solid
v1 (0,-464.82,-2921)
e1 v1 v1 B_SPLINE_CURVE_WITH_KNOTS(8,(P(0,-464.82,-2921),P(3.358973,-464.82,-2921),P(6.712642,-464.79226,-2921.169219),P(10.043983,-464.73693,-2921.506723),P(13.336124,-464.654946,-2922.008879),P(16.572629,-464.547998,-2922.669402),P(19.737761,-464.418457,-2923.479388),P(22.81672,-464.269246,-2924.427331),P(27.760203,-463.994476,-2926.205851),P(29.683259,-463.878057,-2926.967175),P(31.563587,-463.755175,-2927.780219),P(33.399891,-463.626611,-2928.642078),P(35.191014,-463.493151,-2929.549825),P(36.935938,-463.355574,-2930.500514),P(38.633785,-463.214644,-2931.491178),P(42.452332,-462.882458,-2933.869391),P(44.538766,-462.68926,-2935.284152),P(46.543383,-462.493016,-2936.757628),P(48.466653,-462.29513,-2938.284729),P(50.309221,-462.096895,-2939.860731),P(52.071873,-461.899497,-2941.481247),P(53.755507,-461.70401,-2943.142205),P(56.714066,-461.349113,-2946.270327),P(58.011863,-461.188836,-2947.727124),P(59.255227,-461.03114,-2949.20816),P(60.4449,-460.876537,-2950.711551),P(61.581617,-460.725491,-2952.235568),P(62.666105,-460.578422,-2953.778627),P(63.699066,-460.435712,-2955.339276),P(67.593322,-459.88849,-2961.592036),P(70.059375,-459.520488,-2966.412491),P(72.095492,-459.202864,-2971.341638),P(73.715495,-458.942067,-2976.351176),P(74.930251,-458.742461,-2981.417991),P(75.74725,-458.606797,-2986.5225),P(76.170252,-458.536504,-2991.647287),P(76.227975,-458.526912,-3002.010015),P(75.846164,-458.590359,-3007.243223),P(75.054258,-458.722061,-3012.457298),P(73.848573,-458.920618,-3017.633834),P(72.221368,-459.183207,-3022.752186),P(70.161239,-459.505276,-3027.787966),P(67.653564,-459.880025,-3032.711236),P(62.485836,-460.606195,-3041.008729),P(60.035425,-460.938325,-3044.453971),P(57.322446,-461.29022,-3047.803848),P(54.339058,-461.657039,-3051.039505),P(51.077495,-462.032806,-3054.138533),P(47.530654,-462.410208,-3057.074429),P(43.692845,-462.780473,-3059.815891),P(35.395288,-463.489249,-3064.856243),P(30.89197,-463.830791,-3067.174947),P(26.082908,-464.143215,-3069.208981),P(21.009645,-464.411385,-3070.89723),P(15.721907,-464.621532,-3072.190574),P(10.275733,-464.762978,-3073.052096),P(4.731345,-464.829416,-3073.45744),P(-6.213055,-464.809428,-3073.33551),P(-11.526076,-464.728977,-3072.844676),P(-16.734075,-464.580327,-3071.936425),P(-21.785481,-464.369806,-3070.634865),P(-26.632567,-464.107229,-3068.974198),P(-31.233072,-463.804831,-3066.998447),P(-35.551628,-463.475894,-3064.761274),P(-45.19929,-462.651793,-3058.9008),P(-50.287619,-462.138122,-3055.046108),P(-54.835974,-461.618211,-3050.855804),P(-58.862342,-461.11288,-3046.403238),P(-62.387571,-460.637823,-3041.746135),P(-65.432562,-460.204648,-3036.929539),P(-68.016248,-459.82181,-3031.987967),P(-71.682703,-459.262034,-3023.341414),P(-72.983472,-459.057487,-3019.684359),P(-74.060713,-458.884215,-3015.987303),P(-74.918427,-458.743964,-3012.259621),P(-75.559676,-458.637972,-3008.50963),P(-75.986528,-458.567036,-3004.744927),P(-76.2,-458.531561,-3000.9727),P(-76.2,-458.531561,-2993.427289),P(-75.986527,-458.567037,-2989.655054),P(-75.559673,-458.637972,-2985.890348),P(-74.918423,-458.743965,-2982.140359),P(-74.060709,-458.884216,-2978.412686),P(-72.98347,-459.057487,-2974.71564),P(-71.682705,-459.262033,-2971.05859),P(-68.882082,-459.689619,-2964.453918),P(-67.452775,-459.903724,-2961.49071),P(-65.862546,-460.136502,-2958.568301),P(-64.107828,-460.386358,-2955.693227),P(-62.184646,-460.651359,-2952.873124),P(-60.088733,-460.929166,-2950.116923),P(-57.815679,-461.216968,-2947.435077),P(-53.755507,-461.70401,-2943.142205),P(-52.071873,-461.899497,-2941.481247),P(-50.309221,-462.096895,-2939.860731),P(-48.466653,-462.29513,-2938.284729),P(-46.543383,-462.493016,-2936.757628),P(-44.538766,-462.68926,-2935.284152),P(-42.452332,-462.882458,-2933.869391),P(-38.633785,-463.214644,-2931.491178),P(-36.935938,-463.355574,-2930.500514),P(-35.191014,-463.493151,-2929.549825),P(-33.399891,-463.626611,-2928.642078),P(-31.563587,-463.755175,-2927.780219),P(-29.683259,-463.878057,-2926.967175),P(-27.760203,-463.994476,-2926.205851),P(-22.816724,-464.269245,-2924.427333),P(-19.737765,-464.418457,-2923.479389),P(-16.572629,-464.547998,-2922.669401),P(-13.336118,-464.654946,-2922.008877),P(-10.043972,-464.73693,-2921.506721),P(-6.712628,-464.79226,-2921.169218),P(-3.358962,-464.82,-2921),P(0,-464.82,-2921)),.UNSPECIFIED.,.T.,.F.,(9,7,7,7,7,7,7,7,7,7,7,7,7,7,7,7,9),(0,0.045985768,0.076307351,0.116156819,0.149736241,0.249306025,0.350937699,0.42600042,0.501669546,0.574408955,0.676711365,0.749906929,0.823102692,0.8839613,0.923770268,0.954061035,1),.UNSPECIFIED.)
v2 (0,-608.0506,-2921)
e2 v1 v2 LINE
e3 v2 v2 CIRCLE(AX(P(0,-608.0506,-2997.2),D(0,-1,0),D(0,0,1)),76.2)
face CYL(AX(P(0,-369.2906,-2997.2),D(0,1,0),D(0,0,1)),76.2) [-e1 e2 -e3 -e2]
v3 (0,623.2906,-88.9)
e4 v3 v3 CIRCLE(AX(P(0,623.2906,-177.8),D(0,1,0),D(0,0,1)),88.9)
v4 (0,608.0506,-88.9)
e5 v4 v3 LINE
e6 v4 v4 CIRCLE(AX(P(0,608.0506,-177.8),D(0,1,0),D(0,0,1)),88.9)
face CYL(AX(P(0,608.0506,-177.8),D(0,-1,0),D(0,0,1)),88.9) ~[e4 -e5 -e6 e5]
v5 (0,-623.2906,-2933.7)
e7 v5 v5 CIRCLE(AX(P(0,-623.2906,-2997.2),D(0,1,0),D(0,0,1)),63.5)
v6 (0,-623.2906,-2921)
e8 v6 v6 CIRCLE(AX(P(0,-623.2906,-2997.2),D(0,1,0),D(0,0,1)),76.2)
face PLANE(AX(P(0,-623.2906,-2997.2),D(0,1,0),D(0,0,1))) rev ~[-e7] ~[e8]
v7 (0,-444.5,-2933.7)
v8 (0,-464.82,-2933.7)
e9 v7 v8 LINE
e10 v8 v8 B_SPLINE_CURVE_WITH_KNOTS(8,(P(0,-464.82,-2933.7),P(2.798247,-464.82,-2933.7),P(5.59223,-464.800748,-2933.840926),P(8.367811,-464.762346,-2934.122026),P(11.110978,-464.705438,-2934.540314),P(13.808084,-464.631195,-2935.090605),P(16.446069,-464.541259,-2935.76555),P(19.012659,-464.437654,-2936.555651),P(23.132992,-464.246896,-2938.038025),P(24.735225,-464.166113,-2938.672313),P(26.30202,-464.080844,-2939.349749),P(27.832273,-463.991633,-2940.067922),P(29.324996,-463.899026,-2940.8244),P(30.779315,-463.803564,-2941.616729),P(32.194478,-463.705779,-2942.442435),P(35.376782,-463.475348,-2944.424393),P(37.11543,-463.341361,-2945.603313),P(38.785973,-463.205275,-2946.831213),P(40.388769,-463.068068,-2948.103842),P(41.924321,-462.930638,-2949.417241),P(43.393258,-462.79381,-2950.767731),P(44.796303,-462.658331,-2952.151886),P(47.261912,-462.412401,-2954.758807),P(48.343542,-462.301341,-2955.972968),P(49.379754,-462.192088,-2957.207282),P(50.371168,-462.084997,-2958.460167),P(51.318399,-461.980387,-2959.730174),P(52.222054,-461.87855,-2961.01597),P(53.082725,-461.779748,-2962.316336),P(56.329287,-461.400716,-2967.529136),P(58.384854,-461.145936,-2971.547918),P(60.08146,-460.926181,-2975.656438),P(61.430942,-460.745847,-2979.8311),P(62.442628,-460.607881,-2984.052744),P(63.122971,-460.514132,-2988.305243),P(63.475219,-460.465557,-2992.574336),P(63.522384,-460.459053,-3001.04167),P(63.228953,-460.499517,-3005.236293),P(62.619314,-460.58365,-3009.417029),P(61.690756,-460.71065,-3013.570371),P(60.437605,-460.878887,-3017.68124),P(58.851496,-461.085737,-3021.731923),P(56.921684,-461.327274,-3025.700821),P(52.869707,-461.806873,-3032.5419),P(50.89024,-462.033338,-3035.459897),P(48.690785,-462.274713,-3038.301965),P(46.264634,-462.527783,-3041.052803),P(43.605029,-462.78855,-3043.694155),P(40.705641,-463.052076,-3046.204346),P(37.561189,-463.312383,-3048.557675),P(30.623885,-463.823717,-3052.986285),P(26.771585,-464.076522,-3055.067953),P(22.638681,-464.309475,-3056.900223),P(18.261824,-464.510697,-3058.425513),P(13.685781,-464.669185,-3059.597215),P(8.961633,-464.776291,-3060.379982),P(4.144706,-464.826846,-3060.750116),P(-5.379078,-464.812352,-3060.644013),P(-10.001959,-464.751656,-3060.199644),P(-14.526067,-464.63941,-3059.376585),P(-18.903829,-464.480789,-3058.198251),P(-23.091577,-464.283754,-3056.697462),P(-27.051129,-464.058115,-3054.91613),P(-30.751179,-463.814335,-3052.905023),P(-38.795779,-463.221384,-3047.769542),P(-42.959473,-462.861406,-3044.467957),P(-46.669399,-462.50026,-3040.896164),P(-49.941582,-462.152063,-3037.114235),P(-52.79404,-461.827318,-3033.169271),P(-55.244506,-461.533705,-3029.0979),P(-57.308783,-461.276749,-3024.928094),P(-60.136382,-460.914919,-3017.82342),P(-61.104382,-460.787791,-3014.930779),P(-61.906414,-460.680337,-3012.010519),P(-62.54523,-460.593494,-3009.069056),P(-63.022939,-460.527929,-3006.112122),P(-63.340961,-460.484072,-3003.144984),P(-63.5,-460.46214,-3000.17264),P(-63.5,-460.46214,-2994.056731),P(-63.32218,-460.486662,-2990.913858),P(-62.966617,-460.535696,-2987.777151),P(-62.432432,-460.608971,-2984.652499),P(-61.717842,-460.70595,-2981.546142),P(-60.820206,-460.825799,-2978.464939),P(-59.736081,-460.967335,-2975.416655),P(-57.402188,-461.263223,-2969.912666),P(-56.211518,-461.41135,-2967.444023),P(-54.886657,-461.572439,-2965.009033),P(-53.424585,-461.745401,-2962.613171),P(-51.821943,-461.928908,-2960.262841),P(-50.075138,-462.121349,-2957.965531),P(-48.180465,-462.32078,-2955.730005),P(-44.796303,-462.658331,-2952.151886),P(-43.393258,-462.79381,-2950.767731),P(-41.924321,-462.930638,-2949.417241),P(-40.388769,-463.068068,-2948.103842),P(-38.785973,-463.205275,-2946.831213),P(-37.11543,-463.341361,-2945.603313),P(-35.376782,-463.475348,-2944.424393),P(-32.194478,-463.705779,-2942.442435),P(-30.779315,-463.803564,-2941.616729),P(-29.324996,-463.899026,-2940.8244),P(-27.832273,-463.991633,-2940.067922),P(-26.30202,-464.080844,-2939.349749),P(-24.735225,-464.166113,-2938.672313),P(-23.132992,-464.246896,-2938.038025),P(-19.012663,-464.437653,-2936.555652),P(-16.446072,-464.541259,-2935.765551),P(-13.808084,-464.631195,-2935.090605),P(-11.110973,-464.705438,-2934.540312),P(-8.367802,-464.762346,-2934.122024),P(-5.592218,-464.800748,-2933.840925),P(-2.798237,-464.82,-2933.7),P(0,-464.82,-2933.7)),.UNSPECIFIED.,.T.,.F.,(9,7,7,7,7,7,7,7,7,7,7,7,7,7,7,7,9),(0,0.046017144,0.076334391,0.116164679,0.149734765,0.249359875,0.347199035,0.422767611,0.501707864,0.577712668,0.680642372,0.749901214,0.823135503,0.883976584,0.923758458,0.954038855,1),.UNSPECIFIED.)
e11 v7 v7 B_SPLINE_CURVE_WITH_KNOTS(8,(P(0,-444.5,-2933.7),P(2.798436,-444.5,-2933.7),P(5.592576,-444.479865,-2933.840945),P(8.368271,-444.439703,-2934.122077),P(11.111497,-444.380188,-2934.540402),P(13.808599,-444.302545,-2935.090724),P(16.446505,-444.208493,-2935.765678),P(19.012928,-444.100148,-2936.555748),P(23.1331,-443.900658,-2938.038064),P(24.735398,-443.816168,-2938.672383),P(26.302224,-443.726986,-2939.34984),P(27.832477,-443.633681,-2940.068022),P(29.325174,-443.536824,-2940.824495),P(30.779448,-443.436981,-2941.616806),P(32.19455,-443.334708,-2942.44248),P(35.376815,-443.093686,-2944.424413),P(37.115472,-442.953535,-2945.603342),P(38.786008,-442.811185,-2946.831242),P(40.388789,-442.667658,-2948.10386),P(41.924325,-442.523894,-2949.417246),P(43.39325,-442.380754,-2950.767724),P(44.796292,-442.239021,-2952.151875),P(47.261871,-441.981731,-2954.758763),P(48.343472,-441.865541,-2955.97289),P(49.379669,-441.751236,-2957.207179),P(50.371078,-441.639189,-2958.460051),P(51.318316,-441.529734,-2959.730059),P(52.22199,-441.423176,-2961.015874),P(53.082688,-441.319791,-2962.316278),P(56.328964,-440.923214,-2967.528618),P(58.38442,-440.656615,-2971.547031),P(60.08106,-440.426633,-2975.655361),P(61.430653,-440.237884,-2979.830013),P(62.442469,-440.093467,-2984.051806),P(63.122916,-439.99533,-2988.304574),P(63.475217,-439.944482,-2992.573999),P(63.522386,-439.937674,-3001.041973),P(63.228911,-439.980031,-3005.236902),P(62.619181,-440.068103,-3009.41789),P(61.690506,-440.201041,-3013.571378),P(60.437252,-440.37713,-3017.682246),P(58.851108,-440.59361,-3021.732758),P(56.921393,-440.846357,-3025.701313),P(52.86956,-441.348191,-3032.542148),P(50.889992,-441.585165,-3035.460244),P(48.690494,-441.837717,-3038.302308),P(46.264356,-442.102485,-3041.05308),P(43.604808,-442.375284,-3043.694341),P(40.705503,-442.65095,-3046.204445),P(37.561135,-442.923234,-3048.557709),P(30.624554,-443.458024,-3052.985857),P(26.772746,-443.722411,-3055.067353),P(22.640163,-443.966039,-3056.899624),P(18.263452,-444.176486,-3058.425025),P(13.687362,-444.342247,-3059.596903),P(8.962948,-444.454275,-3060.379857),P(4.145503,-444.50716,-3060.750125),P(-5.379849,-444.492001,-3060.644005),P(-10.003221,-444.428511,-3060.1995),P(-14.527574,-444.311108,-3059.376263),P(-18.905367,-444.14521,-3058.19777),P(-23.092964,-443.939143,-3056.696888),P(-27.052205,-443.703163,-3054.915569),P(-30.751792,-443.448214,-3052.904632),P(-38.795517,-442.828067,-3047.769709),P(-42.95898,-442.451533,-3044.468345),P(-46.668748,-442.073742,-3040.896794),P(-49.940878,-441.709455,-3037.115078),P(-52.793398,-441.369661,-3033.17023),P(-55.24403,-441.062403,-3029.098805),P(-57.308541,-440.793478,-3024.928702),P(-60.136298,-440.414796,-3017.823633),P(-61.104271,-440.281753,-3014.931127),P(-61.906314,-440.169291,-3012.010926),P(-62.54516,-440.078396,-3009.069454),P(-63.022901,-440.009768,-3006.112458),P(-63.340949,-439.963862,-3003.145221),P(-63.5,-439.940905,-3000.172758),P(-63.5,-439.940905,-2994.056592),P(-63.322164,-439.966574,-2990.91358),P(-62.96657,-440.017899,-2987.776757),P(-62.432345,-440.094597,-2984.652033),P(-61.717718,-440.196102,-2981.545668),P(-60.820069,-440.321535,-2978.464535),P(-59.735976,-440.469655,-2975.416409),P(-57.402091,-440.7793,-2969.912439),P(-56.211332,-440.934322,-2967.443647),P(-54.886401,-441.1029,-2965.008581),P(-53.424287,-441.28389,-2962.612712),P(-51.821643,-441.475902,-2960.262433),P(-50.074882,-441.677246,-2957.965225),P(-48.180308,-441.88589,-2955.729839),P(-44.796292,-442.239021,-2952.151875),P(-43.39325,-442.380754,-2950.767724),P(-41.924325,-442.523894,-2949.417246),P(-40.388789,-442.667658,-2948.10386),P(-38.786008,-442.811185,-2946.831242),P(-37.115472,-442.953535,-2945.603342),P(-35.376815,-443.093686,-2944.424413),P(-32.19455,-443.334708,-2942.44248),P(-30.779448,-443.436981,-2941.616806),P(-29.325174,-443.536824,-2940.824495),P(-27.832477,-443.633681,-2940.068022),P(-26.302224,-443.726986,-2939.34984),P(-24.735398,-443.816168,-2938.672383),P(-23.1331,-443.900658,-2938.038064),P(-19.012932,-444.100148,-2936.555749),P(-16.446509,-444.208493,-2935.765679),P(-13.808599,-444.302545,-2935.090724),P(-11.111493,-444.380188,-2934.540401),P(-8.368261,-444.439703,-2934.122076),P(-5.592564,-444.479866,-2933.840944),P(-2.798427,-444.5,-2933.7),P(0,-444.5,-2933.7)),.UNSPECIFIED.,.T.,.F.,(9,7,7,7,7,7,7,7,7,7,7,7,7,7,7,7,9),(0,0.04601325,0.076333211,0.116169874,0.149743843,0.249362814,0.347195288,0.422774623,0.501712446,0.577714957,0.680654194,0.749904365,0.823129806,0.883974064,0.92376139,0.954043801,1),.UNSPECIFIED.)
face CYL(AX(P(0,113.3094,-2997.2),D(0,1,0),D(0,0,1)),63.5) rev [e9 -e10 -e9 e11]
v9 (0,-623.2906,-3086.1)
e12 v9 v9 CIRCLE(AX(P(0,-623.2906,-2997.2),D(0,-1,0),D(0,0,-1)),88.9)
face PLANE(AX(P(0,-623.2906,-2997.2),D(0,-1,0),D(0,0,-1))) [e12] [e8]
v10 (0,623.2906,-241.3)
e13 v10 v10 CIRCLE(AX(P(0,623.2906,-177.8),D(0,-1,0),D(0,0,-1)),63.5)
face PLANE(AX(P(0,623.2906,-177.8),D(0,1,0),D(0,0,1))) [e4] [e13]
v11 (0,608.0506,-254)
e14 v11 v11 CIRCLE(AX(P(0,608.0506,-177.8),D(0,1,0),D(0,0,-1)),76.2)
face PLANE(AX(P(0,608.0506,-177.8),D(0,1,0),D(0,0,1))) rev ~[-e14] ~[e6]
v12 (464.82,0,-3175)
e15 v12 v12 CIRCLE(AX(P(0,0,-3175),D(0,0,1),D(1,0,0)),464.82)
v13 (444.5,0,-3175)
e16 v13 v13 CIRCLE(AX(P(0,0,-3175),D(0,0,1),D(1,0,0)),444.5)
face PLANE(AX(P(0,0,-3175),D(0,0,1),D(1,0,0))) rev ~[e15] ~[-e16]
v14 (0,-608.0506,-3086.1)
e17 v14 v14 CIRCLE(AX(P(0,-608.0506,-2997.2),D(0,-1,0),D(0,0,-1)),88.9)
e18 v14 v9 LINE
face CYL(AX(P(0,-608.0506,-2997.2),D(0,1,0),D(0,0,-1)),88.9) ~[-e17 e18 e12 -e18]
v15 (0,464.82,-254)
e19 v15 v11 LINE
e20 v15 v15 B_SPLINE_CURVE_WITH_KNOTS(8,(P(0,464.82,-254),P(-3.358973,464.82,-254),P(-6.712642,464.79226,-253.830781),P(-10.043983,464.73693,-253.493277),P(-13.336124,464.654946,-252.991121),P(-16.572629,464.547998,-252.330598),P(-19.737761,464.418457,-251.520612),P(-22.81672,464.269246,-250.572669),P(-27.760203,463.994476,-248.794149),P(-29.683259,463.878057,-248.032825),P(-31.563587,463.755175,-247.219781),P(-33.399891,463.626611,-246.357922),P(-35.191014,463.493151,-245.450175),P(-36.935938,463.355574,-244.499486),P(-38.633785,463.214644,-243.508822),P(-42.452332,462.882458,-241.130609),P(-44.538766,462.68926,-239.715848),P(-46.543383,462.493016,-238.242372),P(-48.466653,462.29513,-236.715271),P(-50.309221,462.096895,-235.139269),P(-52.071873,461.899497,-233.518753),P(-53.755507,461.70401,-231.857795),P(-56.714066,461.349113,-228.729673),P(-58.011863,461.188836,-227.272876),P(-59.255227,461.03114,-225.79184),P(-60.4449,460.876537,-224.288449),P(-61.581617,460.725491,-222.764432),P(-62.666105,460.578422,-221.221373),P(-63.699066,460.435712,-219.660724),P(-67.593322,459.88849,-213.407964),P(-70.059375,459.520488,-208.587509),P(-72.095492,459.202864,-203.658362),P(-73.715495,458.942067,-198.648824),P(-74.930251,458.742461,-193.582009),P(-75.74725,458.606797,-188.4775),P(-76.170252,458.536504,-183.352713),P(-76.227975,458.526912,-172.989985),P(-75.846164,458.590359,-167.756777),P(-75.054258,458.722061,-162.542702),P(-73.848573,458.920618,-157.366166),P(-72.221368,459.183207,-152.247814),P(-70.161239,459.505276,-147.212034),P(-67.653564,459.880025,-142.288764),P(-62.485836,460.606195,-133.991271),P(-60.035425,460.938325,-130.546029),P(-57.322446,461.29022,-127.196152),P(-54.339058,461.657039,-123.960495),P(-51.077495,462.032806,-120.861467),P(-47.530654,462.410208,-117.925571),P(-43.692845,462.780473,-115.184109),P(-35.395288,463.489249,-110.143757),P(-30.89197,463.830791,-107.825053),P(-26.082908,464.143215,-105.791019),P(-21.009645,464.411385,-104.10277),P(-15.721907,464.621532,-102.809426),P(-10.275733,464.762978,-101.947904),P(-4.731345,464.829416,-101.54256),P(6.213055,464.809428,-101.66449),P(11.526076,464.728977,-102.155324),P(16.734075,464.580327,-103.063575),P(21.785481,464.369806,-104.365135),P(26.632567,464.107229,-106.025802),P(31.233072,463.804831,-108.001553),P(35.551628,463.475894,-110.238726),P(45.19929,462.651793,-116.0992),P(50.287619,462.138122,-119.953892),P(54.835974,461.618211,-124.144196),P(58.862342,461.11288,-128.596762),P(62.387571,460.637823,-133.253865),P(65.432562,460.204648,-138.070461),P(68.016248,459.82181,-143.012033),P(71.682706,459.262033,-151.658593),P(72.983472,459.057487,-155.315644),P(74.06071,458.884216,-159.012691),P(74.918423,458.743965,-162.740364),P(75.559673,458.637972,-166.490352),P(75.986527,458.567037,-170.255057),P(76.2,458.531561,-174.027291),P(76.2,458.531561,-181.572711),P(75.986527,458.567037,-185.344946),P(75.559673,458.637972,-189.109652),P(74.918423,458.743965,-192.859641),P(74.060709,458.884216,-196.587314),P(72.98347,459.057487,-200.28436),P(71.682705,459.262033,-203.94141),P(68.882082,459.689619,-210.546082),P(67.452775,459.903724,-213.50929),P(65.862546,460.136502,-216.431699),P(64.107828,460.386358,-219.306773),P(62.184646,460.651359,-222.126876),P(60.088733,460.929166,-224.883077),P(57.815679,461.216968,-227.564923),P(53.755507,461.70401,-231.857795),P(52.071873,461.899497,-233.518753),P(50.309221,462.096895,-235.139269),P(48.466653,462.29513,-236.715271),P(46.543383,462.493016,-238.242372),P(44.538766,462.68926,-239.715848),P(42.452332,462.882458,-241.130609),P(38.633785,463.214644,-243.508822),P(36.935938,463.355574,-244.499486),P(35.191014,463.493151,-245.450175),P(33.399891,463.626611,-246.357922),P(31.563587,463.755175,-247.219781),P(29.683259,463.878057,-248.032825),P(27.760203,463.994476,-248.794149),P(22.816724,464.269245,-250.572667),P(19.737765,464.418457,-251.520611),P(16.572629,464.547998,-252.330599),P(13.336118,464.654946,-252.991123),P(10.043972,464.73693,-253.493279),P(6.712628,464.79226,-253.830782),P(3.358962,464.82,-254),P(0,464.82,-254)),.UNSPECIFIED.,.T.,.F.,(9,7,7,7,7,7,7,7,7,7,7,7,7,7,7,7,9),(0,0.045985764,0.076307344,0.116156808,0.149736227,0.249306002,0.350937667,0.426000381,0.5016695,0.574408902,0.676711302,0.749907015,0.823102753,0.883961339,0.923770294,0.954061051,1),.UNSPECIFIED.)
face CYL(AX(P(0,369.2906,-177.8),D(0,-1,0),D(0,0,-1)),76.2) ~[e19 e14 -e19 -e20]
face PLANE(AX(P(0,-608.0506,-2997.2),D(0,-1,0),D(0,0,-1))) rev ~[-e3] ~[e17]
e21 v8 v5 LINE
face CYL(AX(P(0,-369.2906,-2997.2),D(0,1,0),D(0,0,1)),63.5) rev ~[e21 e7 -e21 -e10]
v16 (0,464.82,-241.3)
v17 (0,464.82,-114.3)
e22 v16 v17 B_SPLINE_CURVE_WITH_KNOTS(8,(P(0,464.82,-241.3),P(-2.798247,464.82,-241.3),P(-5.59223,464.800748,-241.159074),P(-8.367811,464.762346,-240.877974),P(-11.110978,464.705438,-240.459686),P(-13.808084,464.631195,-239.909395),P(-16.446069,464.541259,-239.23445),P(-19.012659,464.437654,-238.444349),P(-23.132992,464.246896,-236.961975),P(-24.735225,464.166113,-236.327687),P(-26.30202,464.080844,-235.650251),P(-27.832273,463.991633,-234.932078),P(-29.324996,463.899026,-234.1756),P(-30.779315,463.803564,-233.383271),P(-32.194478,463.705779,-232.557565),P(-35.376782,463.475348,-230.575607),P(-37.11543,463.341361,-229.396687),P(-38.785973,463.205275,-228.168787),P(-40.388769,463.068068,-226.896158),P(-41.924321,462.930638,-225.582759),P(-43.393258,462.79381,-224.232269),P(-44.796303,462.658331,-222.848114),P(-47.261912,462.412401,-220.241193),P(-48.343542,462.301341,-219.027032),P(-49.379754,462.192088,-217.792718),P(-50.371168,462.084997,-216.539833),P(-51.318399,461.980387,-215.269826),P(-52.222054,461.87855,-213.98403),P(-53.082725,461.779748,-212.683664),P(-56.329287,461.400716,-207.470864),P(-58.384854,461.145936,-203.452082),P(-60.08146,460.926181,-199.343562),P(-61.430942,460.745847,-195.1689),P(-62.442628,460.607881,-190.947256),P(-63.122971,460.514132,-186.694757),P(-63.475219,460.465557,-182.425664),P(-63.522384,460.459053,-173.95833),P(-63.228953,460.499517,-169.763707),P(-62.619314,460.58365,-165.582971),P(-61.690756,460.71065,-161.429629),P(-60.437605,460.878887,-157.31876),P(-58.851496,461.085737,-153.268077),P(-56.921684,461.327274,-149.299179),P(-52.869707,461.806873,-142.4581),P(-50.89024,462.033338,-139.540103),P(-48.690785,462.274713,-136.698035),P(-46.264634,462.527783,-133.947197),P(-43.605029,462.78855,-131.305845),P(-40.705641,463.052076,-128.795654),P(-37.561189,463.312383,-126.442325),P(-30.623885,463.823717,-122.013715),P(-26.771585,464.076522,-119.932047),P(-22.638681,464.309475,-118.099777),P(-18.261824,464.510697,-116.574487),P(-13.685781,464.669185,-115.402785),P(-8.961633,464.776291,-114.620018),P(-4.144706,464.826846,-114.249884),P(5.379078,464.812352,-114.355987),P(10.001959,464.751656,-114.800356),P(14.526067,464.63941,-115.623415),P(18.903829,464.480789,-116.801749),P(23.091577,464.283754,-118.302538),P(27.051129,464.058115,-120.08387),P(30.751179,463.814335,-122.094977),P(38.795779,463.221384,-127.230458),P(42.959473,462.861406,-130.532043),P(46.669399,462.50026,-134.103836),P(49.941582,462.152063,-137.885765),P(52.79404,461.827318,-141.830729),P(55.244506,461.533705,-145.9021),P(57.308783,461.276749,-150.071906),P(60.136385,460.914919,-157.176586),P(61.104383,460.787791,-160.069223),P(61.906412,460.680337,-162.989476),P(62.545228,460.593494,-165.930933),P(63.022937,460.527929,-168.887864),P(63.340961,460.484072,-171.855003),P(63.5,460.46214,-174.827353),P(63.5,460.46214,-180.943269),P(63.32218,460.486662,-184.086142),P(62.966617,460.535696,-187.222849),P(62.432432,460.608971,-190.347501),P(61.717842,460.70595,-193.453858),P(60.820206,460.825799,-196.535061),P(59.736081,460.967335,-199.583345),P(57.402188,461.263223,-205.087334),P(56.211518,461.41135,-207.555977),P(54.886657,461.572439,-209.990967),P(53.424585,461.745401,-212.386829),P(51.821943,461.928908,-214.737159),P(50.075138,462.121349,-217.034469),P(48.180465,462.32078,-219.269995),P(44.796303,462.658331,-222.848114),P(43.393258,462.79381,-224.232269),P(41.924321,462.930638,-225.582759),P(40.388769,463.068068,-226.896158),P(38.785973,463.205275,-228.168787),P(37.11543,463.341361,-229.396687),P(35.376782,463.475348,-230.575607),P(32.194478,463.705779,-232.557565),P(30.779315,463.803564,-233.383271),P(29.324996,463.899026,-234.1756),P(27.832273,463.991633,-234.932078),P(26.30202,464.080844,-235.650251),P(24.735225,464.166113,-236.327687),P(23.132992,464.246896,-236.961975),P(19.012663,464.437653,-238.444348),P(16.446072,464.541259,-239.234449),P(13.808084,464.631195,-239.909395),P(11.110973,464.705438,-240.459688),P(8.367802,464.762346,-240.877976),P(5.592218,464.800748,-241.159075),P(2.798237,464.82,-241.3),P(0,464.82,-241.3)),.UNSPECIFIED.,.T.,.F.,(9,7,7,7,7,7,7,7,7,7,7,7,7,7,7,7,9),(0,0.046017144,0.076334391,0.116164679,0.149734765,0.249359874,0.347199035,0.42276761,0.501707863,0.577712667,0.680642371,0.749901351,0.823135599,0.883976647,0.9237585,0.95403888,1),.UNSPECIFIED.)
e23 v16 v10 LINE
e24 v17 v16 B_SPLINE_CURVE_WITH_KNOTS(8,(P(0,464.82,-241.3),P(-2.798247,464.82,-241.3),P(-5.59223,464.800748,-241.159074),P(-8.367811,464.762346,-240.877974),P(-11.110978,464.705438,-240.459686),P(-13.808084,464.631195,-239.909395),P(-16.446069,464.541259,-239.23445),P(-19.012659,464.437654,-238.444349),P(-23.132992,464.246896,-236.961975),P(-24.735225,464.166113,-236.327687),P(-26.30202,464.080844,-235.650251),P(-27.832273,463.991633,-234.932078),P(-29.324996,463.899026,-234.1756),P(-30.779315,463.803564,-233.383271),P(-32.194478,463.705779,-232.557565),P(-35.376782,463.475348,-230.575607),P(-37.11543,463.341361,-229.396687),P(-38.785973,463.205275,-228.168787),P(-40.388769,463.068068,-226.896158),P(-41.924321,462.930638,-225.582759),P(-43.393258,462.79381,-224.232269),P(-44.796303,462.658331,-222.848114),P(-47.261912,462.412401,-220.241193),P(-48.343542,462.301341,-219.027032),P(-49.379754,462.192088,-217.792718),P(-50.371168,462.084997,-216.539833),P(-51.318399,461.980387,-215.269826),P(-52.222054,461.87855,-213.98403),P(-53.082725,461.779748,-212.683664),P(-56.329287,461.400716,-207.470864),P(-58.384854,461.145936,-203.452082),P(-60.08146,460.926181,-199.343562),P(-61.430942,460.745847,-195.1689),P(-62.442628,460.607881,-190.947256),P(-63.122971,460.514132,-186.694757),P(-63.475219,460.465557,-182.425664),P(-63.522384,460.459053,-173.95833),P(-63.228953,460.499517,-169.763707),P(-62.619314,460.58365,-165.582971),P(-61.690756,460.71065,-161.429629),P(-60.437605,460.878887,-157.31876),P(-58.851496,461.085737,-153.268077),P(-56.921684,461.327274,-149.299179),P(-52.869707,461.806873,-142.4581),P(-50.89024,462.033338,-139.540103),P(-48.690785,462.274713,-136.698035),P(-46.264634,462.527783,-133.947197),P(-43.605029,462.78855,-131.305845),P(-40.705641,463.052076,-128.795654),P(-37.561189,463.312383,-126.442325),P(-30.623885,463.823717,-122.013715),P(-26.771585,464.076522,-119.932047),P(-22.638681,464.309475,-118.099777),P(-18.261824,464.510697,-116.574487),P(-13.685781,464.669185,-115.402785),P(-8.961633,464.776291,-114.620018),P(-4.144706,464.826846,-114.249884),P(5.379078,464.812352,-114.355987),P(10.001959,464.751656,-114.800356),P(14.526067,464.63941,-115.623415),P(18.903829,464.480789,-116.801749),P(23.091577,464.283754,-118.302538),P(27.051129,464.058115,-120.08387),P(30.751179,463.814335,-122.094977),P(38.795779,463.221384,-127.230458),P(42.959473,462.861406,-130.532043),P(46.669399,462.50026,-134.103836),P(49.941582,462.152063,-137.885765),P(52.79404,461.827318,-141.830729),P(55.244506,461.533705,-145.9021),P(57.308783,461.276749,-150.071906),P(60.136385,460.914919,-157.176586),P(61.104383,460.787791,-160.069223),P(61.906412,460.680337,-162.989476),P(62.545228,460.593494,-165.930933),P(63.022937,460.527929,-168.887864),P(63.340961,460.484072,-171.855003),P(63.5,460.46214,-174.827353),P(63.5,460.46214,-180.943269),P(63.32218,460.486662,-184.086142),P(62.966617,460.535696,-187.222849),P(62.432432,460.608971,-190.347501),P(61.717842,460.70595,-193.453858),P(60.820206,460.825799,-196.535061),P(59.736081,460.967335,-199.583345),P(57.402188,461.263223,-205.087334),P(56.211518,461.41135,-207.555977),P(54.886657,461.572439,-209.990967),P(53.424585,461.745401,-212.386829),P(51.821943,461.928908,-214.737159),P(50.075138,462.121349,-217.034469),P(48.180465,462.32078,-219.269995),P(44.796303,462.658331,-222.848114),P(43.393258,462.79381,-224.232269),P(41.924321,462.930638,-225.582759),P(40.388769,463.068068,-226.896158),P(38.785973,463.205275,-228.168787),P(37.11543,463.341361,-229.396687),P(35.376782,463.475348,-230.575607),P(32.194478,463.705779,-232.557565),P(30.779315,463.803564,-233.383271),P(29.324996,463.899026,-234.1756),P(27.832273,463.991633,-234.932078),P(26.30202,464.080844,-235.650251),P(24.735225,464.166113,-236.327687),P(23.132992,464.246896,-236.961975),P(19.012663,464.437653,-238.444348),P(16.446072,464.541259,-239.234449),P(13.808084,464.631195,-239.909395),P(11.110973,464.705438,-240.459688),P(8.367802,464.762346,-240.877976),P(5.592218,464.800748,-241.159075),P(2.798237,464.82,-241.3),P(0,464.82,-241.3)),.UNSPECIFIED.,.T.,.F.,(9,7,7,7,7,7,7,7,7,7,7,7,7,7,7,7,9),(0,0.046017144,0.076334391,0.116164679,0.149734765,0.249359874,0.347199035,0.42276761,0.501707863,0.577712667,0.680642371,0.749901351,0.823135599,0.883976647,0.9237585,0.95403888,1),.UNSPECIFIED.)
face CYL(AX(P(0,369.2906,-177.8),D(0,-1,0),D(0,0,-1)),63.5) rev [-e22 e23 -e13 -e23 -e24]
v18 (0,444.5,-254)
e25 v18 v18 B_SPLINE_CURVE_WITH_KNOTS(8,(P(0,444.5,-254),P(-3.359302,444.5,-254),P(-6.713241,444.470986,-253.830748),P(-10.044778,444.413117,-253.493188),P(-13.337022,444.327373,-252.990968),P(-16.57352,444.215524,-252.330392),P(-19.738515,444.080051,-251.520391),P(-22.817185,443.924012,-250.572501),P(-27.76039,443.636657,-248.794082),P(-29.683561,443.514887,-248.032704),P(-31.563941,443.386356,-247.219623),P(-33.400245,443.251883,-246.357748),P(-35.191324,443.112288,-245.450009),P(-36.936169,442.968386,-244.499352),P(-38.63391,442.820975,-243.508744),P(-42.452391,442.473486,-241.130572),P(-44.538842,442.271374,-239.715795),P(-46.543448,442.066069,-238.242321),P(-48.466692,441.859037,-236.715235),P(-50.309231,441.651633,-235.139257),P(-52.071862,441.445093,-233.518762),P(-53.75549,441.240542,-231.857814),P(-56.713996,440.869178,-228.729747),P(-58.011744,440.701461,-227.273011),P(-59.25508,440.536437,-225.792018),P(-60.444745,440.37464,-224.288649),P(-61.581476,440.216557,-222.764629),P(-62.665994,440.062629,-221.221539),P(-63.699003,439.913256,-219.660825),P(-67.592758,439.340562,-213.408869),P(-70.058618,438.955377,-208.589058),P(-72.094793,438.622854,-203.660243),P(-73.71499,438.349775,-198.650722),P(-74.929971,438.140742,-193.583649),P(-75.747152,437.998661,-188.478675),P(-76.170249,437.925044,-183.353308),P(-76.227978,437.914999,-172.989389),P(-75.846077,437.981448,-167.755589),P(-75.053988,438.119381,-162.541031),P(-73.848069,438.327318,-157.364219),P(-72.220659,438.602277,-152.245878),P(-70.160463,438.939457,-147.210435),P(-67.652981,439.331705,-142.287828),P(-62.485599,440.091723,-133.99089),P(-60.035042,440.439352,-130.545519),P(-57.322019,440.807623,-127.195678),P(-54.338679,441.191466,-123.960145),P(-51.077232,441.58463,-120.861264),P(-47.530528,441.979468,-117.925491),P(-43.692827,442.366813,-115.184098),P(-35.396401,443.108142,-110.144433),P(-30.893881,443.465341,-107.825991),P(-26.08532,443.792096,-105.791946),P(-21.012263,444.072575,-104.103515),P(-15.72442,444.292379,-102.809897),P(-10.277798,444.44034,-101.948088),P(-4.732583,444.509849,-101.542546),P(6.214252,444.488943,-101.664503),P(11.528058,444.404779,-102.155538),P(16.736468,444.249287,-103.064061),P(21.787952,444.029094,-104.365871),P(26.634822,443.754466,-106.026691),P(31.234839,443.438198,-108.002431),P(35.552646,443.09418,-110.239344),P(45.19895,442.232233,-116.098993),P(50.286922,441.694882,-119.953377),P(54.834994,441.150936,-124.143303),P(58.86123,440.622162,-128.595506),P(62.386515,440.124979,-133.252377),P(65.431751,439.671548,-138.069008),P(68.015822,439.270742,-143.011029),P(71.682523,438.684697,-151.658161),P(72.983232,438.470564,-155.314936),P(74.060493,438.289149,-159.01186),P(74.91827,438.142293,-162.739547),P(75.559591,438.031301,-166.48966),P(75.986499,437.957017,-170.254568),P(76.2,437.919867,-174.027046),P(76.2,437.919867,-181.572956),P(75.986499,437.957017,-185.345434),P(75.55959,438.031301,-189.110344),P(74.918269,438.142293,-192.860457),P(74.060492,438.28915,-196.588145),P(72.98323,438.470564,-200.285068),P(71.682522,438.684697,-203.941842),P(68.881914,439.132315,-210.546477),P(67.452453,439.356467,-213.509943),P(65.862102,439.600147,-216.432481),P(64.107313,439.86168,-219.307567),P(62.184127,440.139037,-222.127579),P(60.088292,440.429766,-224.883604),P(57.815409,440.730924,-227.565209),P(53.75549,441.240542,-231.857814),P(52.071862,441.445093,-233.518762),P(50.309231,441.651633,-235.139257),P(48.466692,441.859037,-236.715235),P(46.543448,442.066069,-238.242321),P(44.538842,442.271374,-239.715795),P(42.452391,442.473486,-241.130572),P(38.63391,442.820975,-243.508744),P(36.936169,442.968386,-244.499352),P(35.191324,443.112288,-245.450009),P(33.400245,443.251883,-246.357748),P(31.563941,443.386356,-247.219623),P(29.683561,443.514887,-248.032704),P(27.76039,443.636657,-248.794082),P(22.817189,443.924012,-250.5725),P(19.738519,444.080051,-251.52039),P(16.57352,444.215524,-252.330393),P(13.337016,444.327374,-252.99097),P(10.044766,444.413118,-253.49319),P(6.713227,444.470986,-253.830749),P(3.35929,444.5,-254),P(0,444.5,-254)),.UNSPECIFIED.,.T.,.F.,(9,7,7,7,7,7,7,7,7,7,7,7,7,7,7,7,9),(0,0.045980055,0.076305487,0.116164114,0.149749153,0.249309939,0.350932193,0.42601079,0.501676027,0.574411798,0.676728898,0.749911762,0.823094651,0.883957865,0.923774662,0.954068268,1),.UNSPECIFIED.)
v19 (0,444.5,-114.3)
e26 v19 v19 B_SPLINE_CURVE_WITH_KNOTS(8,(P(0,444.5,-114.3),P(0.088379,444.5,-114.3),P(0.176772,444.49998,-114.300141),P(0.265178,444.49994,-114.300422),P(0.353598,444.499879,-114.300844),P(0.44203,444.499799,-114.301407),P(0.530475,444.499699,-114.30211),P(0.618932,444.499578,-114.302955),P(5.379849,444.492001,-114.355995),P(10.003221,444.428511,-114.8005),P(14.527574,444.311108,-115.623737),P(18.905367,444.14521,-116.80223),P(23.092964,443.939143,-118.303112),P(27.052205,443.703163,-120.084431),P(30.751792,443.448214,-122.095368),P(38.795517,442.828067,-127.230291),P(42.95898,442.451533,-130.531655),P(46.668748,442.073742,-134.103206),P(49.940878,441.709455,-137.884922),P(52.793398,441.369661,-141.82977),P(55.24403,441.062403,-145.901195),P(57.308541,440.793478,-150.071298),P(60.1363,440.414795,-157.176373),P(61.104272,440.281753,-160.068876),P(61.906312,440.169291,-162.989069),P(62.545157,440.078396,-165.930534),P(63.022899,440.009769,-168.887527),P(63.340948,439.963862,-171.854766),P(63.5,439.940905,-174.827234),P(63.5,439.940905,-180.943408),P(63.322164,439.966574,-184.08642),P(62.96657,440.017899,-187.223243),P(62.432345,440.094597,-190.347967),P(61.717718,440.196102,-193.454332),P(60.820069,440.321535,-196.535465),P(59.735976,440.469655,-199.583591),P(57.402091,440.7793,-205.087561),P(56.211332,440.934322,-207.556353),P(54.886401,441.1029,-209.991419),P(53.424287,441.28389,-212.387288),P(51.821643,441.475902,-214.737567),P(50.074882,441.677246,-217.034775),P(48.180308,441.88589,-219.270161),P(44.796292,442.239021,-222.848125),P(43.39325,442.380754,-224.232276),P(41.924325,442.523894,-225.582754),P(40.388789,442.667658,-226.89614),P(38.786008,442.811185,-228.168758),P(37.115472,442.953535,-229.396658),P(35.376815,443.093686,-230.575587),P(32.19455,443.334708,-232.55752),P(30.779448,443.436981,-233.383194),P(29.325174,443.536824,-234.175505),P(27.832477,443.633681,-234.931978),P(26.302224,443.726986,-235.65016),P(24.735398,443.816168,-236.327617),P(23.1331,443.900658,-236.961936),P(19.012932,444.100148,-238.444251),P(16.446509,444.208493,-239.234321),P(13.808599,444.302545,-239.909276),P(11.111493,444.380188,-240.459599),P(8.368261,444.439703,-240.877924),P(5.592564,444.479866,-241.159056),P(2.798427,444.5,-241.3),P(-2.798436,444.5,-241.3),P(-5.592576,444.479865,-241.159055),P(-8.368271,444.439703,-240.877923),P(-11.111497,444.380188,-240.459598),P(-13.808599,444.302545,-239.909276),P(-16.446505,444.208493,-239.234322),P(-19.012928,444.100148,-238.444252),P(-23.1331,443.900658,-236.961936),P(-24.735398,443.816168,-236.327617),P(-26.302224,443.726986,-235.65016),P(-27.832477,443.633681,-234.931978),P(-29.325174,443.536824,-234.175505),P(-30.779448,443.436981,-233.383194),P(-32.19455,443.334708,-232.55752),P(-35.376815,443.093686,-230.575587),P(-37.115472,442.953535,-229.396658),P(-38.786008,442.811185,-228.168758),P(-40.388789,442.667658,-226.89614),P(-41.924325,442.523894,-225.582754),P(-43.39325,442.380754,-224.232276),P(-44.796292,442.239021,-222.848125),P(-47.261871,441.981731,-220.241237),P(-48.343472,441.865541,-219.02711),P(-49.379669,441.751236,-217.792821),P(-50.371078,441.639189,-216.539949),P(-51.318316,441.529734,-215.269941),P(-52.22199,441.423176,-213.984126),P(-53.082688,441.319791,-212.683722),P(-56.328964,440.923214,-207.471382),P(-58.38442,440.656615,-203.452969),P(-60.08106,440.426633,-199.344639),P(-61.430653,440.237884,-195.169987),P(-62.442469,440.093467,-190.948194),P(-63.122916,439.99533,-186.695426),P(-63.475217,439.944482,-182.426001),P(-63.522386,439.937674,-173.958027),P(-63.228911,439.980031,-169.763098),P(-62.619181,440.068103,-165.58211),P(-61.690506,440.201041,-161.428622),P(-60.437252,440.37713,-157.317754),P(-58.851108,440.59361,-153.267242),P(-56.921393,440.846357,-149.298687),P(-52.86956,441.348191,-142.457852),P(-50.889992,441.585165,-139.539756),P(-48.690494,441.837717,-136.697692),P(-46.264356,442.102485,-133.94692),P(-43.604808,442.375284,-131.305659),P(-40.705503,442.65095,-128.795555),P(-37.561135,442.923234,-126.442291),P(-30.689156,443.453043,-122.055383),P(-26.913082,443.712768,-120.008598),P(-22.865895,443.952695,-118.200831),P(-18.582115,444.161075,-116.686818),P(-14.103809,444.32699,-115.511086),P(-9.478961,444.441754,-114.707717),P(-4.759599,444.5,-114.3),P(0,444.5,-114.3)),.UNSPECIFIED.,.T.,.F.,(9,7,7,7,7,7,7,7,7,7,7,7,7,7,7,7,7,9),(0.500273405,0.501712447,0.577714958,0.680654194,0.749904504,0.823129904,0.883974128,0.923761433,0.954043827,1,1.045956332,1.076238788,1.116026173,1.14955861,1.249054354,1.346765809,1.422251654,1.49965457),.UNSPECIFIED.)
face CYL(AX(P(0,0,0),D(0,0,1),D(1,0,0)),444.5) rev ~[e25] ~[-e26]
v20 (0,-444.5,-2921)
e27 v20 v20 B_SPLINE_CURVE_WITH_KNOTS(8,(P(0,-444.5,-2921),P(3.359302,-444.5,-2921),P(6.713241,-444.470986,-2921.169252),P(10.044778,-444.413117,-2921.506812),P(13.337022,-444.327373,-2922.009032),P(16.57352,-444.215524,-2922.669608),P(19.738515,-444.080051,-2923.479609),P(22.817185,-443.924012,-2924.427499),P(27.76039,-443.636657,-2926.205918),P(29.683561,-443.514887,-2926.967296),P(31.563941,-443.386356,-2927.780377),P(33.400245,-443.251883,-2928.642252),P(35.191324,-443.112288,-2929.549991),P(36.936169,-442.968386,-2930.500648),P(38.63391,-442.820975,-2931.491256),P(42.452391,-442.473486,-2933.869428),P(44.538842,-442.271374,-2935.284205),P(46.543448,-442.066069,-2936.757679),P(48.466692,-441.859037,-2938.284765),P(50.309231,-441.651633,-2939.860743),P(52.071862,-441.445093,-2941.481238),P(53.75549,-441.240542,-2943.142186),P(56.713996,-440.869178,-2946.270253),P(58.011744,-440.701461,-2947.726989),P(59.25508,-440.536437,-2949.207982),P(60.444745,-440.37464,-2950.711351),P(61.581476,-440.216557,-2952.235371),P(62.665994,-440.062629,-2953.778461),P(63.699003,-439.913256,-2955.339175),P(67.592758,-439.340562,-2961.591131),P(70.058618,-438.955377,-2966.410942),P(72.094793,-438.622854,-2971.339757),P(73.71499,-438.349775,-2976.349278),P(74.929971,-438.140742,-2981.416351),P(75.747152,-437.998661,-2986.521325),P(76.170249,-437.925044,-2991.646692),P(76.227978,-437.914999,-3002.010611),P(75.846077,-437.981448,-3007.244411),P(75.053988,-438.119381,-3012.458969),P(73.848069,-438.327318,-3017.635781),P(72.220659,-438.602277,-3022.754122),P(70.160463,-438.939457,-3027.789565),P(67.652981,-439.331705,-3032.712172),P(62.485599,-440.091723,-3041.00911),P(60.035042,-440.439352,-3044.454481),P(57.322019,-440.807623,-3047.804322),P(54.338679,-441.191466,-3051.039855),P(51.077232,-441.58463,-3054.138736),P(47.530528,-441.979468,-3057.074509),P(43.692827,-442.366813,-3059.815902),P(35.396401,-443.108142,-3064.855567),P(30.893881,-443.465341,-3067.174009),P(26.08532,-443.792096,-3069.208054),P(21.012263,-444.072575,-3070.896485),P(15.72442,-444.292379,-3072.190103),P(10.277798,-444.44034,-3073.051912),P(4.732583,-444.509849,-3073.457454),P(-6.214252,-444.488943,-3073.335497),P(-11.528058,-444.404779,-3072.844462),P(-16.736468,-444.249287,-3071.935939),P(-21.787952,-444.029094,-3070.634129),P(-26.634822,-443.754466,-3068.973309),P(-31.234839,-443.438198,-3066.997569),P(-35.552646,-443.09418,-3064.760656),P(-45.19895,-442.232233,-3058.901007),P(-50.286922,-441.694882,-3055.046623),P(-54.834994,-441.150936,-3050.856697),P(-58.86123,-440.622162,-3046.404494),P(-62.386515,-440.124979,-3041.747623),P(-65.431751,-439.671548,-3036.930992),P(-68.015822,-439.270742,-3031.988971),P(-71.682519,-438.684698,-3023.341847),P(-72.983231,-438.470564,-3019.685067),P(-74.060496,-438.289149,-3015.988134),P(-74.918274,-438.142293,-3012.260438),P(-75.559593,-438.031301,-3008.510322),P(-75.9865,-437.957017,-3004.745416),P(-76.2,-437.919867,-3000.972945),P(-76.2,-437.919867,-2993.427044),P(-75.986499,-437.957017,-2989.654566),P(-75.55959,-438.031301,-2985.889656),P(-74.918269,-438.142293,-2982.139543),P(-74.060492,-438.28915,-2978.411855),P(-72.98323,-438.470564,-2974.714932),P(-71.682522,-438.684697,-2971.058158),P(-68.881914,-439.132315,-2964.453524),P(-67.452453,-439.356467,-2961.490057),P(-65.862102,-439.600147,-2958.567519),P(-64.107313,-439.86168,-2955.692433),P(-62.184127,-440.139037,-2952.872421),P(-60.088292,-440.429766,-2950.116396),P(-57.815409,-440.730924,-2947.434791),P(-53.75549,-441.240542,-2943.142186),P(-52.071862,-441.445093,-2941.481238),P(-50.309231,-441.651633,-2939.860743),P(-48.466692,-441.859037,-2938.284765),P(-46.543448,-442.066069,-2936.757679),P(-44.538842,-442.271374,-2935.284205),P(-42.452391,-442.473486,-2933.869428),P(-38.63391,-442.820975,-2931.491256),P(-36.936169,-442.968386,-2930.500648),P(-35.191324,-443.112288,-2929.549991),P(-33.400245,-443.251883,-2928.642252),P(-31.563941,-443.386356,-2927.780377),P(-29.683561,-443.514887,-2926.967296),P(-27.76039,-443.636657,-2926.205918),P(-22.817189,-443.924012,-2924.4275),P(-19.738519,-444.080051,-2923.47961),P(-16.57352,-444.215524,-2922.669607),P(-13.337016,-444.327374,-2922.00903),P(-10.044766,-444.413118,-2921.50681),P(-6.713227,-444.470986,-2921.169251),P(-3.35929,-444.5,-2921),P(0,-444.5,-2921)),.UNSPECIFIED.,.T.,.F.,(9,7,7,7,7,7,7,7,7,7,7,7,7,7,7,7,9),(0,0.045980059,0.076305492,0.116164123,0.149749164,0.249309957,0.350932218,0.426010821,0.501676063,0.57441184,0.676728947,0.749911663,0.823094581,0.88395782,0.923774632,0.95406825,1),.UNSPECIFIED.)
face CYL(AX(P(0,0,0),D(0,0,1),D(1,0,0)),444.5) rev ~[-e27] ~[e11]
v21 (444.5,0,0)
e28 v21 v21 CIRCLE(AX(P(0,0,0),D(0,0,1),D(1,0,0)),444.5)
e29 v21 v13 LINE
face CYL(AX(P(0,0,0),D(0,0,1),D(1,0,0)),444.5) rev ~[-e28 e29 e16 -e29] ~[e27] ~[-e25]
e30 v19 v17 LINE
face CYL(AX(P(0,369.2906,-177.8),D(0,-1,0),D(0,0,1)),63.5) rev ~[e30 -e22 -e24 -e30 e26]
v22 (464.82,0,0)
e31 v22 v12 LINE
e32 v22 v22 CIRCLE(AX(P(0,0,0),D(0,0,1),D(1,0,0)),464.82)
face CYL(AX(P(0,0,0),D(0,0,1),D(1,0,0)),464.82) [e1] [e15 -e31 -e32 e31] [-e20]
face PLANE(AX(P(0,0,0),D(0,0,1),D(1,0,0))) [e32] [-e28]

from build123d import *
from build123d.topology import SkipClean

# Parameters (mm, degrees)
SKETCH1_R           = 464.82
SKETCH1_R_2         = 444.5
BOSS_EXTRUDE1_DEPTH = 3175
BOSS_EXTRUDE2_START = 369.2906
SKETCH2_R           = 76.2
SKETCH2_R_2         = 63.5
BOSS_EXTRUDE2_DEPTH = 254
SKETCH3_R           = 63.5
CUT_EXTRUDE1_DEPTH  = 742.4928
BOSS_EXTRUDE3_START = -15.24
SKETCH4_R           = 88.9
SKETCH4_R_2         = 76.2
BOSS_EXTRUDE3_DEPTH = 15.24
BOSS_EXTRUDE4_START = -369.2906
SKETCH5_R           = 76.2
SKETCH5_R_2         = 63.5
BOSS_EXTRUDE4_DEPTH = 254
CUT_EXTRUDE2_START  = -736.6
SKETCH6_R           = 63.5
CUT_EXTRUDE2_DEPTH  = 736.6
SKETCH7_R           = 444.5
CUT_EXTRUDE3_DEPTH  = 3175
BOSS_EXTRUDE5_START = -15.24
SKETCH9_R           = 88.9
SKETCH9_R_2         = 76.2
BOSS_EXTRUDE5_DEPTH = 15.24


with BuildPart() as part:
    # Sketch1 → Boss-Extrude1 (new body)
    with BuildSketch(Plane.XY):
        Circle(SKETCH1_R)
        Circle(SKETCH1_R_2, mode=Mode.SUBTRACT)
    extrude(amount=-BOSS_EXTRUDE1_DEPTH)

    # Sketch2 → Boss-Extrude2 (add)
    with BuildSketch(Plane(origin=(0, 0, 0), x_dir=(1, 0, 0), z_dir=(0, 1, 0)).offset(BOSS_EXTRUDE2_START)):
        with Locations(Location((0, 177.8, 0), (0, 0, 90))):
            Circle(SKETCH2_R)
        with Locations(Location((0, 177.8, 0), (0, 0, 90))):
            Circle(SKETCH2_R_2, mode=Mode.SUBTRACT)
    extrude(amount=BOSS_EXTRUDE2_DEPTH)

    # Sketch3 → Cut-Extrude1 (cut)
    with SkipClean():  # the faces are left unmerged after this step: merging them gives an invalid solid
        with BuildSketch(Plane.XZ.offset(-369.2906)):
            with Locations(Location((0, -177.8, 0), (0, 0, 90))):
                Circle(SKETCH3_R)
        extrude(amount=-CUT_EXTRUDE1_DEPTH, mode=Mode.SUBTRACT)

    # Sketch4 → Boss-Extrude3 (add)
    with BuildSketch(Plane(origin=(0, 623.2906, 0), x_dir=(1, 0, 0), z_dir=(0, 1, 0)).offset(BOSS_EXTRUDE3_START)):
        with Locations(Location((0, 177.8, 0), (0, 0, 270))):
            Circle(SKETCH4_R)
        with Locations(Location((0, 177.8, 0), (0, 0, 90))):
            Circle(SKETCH4_R_2, mode=Mode.SUBTRACT)
    extrude(amount=BOSS_EXTRUDE3_DEPTH)

    # Sketch5 → Boss-Extrude4 (add)
    with BuildSketch(Plane(origin=(0, 0, 0), x_dir=(1, 0, 0), z_dir=(0, 1, 0)).offset(BOSS_EXTRUDE4_START)):
        with Locations(Location((0, 2997.2, 0), (0, 0, 270))):
            Circle(SKETCH5_R)
        with Locations(Location((0, 2997.2, 0), (0, 0, 270))):
            Circle(SKETCH5_R_2, mode=Mode.SUBTRACT)
    extrude(amount=-BOSS_EXTRUDE4_DEPTH)

    # Sketch6 → Cut-Extrude2 (cut)
    with BuildSketch(Plane.XZ.offset(623.2906).offset(CUT_EXTRUDE2_START)):
        with Locations(Location((0, -2997.2, 0), (0, 0, 90))):
            Circle(SKETCH6_R)
    extrude(amount=CUT_EXTRUDE2_DEPTH, mode=Mode.SUBTRACT)

    # Sketch7 → Cut-Extrude3 (cut)
    with BuildSketch(Plane.XY):
        Circle(SKETCH7_R)
    extrude(amount=-CUT_EXTRUDE3_DEPTH, mode=Mode.SUBTRACT)

    # Sketch9 → Boss-Extrude5 (add)
    with SkipClean():  # the faces are left unmerged after this step: merging them gives an invalid solid
        with BuildSketch(Plane.XZ.offset(623.2906).offset(BOSS_EXTRUDE5_START)):
            with Locations(Location((0, -2997.2, 0), (0, 0, 270))):
                Circle(SKETCH9_R)
            with Locations(Location((0, -2997.2, 0), (0, 0, 90))):
                Circle(SKETCH9_R_2, mode=Mode.SUBTRACT)
        extrude(amount=BOSS_EXTRUDE5_DEPTH)


solid = part.part
